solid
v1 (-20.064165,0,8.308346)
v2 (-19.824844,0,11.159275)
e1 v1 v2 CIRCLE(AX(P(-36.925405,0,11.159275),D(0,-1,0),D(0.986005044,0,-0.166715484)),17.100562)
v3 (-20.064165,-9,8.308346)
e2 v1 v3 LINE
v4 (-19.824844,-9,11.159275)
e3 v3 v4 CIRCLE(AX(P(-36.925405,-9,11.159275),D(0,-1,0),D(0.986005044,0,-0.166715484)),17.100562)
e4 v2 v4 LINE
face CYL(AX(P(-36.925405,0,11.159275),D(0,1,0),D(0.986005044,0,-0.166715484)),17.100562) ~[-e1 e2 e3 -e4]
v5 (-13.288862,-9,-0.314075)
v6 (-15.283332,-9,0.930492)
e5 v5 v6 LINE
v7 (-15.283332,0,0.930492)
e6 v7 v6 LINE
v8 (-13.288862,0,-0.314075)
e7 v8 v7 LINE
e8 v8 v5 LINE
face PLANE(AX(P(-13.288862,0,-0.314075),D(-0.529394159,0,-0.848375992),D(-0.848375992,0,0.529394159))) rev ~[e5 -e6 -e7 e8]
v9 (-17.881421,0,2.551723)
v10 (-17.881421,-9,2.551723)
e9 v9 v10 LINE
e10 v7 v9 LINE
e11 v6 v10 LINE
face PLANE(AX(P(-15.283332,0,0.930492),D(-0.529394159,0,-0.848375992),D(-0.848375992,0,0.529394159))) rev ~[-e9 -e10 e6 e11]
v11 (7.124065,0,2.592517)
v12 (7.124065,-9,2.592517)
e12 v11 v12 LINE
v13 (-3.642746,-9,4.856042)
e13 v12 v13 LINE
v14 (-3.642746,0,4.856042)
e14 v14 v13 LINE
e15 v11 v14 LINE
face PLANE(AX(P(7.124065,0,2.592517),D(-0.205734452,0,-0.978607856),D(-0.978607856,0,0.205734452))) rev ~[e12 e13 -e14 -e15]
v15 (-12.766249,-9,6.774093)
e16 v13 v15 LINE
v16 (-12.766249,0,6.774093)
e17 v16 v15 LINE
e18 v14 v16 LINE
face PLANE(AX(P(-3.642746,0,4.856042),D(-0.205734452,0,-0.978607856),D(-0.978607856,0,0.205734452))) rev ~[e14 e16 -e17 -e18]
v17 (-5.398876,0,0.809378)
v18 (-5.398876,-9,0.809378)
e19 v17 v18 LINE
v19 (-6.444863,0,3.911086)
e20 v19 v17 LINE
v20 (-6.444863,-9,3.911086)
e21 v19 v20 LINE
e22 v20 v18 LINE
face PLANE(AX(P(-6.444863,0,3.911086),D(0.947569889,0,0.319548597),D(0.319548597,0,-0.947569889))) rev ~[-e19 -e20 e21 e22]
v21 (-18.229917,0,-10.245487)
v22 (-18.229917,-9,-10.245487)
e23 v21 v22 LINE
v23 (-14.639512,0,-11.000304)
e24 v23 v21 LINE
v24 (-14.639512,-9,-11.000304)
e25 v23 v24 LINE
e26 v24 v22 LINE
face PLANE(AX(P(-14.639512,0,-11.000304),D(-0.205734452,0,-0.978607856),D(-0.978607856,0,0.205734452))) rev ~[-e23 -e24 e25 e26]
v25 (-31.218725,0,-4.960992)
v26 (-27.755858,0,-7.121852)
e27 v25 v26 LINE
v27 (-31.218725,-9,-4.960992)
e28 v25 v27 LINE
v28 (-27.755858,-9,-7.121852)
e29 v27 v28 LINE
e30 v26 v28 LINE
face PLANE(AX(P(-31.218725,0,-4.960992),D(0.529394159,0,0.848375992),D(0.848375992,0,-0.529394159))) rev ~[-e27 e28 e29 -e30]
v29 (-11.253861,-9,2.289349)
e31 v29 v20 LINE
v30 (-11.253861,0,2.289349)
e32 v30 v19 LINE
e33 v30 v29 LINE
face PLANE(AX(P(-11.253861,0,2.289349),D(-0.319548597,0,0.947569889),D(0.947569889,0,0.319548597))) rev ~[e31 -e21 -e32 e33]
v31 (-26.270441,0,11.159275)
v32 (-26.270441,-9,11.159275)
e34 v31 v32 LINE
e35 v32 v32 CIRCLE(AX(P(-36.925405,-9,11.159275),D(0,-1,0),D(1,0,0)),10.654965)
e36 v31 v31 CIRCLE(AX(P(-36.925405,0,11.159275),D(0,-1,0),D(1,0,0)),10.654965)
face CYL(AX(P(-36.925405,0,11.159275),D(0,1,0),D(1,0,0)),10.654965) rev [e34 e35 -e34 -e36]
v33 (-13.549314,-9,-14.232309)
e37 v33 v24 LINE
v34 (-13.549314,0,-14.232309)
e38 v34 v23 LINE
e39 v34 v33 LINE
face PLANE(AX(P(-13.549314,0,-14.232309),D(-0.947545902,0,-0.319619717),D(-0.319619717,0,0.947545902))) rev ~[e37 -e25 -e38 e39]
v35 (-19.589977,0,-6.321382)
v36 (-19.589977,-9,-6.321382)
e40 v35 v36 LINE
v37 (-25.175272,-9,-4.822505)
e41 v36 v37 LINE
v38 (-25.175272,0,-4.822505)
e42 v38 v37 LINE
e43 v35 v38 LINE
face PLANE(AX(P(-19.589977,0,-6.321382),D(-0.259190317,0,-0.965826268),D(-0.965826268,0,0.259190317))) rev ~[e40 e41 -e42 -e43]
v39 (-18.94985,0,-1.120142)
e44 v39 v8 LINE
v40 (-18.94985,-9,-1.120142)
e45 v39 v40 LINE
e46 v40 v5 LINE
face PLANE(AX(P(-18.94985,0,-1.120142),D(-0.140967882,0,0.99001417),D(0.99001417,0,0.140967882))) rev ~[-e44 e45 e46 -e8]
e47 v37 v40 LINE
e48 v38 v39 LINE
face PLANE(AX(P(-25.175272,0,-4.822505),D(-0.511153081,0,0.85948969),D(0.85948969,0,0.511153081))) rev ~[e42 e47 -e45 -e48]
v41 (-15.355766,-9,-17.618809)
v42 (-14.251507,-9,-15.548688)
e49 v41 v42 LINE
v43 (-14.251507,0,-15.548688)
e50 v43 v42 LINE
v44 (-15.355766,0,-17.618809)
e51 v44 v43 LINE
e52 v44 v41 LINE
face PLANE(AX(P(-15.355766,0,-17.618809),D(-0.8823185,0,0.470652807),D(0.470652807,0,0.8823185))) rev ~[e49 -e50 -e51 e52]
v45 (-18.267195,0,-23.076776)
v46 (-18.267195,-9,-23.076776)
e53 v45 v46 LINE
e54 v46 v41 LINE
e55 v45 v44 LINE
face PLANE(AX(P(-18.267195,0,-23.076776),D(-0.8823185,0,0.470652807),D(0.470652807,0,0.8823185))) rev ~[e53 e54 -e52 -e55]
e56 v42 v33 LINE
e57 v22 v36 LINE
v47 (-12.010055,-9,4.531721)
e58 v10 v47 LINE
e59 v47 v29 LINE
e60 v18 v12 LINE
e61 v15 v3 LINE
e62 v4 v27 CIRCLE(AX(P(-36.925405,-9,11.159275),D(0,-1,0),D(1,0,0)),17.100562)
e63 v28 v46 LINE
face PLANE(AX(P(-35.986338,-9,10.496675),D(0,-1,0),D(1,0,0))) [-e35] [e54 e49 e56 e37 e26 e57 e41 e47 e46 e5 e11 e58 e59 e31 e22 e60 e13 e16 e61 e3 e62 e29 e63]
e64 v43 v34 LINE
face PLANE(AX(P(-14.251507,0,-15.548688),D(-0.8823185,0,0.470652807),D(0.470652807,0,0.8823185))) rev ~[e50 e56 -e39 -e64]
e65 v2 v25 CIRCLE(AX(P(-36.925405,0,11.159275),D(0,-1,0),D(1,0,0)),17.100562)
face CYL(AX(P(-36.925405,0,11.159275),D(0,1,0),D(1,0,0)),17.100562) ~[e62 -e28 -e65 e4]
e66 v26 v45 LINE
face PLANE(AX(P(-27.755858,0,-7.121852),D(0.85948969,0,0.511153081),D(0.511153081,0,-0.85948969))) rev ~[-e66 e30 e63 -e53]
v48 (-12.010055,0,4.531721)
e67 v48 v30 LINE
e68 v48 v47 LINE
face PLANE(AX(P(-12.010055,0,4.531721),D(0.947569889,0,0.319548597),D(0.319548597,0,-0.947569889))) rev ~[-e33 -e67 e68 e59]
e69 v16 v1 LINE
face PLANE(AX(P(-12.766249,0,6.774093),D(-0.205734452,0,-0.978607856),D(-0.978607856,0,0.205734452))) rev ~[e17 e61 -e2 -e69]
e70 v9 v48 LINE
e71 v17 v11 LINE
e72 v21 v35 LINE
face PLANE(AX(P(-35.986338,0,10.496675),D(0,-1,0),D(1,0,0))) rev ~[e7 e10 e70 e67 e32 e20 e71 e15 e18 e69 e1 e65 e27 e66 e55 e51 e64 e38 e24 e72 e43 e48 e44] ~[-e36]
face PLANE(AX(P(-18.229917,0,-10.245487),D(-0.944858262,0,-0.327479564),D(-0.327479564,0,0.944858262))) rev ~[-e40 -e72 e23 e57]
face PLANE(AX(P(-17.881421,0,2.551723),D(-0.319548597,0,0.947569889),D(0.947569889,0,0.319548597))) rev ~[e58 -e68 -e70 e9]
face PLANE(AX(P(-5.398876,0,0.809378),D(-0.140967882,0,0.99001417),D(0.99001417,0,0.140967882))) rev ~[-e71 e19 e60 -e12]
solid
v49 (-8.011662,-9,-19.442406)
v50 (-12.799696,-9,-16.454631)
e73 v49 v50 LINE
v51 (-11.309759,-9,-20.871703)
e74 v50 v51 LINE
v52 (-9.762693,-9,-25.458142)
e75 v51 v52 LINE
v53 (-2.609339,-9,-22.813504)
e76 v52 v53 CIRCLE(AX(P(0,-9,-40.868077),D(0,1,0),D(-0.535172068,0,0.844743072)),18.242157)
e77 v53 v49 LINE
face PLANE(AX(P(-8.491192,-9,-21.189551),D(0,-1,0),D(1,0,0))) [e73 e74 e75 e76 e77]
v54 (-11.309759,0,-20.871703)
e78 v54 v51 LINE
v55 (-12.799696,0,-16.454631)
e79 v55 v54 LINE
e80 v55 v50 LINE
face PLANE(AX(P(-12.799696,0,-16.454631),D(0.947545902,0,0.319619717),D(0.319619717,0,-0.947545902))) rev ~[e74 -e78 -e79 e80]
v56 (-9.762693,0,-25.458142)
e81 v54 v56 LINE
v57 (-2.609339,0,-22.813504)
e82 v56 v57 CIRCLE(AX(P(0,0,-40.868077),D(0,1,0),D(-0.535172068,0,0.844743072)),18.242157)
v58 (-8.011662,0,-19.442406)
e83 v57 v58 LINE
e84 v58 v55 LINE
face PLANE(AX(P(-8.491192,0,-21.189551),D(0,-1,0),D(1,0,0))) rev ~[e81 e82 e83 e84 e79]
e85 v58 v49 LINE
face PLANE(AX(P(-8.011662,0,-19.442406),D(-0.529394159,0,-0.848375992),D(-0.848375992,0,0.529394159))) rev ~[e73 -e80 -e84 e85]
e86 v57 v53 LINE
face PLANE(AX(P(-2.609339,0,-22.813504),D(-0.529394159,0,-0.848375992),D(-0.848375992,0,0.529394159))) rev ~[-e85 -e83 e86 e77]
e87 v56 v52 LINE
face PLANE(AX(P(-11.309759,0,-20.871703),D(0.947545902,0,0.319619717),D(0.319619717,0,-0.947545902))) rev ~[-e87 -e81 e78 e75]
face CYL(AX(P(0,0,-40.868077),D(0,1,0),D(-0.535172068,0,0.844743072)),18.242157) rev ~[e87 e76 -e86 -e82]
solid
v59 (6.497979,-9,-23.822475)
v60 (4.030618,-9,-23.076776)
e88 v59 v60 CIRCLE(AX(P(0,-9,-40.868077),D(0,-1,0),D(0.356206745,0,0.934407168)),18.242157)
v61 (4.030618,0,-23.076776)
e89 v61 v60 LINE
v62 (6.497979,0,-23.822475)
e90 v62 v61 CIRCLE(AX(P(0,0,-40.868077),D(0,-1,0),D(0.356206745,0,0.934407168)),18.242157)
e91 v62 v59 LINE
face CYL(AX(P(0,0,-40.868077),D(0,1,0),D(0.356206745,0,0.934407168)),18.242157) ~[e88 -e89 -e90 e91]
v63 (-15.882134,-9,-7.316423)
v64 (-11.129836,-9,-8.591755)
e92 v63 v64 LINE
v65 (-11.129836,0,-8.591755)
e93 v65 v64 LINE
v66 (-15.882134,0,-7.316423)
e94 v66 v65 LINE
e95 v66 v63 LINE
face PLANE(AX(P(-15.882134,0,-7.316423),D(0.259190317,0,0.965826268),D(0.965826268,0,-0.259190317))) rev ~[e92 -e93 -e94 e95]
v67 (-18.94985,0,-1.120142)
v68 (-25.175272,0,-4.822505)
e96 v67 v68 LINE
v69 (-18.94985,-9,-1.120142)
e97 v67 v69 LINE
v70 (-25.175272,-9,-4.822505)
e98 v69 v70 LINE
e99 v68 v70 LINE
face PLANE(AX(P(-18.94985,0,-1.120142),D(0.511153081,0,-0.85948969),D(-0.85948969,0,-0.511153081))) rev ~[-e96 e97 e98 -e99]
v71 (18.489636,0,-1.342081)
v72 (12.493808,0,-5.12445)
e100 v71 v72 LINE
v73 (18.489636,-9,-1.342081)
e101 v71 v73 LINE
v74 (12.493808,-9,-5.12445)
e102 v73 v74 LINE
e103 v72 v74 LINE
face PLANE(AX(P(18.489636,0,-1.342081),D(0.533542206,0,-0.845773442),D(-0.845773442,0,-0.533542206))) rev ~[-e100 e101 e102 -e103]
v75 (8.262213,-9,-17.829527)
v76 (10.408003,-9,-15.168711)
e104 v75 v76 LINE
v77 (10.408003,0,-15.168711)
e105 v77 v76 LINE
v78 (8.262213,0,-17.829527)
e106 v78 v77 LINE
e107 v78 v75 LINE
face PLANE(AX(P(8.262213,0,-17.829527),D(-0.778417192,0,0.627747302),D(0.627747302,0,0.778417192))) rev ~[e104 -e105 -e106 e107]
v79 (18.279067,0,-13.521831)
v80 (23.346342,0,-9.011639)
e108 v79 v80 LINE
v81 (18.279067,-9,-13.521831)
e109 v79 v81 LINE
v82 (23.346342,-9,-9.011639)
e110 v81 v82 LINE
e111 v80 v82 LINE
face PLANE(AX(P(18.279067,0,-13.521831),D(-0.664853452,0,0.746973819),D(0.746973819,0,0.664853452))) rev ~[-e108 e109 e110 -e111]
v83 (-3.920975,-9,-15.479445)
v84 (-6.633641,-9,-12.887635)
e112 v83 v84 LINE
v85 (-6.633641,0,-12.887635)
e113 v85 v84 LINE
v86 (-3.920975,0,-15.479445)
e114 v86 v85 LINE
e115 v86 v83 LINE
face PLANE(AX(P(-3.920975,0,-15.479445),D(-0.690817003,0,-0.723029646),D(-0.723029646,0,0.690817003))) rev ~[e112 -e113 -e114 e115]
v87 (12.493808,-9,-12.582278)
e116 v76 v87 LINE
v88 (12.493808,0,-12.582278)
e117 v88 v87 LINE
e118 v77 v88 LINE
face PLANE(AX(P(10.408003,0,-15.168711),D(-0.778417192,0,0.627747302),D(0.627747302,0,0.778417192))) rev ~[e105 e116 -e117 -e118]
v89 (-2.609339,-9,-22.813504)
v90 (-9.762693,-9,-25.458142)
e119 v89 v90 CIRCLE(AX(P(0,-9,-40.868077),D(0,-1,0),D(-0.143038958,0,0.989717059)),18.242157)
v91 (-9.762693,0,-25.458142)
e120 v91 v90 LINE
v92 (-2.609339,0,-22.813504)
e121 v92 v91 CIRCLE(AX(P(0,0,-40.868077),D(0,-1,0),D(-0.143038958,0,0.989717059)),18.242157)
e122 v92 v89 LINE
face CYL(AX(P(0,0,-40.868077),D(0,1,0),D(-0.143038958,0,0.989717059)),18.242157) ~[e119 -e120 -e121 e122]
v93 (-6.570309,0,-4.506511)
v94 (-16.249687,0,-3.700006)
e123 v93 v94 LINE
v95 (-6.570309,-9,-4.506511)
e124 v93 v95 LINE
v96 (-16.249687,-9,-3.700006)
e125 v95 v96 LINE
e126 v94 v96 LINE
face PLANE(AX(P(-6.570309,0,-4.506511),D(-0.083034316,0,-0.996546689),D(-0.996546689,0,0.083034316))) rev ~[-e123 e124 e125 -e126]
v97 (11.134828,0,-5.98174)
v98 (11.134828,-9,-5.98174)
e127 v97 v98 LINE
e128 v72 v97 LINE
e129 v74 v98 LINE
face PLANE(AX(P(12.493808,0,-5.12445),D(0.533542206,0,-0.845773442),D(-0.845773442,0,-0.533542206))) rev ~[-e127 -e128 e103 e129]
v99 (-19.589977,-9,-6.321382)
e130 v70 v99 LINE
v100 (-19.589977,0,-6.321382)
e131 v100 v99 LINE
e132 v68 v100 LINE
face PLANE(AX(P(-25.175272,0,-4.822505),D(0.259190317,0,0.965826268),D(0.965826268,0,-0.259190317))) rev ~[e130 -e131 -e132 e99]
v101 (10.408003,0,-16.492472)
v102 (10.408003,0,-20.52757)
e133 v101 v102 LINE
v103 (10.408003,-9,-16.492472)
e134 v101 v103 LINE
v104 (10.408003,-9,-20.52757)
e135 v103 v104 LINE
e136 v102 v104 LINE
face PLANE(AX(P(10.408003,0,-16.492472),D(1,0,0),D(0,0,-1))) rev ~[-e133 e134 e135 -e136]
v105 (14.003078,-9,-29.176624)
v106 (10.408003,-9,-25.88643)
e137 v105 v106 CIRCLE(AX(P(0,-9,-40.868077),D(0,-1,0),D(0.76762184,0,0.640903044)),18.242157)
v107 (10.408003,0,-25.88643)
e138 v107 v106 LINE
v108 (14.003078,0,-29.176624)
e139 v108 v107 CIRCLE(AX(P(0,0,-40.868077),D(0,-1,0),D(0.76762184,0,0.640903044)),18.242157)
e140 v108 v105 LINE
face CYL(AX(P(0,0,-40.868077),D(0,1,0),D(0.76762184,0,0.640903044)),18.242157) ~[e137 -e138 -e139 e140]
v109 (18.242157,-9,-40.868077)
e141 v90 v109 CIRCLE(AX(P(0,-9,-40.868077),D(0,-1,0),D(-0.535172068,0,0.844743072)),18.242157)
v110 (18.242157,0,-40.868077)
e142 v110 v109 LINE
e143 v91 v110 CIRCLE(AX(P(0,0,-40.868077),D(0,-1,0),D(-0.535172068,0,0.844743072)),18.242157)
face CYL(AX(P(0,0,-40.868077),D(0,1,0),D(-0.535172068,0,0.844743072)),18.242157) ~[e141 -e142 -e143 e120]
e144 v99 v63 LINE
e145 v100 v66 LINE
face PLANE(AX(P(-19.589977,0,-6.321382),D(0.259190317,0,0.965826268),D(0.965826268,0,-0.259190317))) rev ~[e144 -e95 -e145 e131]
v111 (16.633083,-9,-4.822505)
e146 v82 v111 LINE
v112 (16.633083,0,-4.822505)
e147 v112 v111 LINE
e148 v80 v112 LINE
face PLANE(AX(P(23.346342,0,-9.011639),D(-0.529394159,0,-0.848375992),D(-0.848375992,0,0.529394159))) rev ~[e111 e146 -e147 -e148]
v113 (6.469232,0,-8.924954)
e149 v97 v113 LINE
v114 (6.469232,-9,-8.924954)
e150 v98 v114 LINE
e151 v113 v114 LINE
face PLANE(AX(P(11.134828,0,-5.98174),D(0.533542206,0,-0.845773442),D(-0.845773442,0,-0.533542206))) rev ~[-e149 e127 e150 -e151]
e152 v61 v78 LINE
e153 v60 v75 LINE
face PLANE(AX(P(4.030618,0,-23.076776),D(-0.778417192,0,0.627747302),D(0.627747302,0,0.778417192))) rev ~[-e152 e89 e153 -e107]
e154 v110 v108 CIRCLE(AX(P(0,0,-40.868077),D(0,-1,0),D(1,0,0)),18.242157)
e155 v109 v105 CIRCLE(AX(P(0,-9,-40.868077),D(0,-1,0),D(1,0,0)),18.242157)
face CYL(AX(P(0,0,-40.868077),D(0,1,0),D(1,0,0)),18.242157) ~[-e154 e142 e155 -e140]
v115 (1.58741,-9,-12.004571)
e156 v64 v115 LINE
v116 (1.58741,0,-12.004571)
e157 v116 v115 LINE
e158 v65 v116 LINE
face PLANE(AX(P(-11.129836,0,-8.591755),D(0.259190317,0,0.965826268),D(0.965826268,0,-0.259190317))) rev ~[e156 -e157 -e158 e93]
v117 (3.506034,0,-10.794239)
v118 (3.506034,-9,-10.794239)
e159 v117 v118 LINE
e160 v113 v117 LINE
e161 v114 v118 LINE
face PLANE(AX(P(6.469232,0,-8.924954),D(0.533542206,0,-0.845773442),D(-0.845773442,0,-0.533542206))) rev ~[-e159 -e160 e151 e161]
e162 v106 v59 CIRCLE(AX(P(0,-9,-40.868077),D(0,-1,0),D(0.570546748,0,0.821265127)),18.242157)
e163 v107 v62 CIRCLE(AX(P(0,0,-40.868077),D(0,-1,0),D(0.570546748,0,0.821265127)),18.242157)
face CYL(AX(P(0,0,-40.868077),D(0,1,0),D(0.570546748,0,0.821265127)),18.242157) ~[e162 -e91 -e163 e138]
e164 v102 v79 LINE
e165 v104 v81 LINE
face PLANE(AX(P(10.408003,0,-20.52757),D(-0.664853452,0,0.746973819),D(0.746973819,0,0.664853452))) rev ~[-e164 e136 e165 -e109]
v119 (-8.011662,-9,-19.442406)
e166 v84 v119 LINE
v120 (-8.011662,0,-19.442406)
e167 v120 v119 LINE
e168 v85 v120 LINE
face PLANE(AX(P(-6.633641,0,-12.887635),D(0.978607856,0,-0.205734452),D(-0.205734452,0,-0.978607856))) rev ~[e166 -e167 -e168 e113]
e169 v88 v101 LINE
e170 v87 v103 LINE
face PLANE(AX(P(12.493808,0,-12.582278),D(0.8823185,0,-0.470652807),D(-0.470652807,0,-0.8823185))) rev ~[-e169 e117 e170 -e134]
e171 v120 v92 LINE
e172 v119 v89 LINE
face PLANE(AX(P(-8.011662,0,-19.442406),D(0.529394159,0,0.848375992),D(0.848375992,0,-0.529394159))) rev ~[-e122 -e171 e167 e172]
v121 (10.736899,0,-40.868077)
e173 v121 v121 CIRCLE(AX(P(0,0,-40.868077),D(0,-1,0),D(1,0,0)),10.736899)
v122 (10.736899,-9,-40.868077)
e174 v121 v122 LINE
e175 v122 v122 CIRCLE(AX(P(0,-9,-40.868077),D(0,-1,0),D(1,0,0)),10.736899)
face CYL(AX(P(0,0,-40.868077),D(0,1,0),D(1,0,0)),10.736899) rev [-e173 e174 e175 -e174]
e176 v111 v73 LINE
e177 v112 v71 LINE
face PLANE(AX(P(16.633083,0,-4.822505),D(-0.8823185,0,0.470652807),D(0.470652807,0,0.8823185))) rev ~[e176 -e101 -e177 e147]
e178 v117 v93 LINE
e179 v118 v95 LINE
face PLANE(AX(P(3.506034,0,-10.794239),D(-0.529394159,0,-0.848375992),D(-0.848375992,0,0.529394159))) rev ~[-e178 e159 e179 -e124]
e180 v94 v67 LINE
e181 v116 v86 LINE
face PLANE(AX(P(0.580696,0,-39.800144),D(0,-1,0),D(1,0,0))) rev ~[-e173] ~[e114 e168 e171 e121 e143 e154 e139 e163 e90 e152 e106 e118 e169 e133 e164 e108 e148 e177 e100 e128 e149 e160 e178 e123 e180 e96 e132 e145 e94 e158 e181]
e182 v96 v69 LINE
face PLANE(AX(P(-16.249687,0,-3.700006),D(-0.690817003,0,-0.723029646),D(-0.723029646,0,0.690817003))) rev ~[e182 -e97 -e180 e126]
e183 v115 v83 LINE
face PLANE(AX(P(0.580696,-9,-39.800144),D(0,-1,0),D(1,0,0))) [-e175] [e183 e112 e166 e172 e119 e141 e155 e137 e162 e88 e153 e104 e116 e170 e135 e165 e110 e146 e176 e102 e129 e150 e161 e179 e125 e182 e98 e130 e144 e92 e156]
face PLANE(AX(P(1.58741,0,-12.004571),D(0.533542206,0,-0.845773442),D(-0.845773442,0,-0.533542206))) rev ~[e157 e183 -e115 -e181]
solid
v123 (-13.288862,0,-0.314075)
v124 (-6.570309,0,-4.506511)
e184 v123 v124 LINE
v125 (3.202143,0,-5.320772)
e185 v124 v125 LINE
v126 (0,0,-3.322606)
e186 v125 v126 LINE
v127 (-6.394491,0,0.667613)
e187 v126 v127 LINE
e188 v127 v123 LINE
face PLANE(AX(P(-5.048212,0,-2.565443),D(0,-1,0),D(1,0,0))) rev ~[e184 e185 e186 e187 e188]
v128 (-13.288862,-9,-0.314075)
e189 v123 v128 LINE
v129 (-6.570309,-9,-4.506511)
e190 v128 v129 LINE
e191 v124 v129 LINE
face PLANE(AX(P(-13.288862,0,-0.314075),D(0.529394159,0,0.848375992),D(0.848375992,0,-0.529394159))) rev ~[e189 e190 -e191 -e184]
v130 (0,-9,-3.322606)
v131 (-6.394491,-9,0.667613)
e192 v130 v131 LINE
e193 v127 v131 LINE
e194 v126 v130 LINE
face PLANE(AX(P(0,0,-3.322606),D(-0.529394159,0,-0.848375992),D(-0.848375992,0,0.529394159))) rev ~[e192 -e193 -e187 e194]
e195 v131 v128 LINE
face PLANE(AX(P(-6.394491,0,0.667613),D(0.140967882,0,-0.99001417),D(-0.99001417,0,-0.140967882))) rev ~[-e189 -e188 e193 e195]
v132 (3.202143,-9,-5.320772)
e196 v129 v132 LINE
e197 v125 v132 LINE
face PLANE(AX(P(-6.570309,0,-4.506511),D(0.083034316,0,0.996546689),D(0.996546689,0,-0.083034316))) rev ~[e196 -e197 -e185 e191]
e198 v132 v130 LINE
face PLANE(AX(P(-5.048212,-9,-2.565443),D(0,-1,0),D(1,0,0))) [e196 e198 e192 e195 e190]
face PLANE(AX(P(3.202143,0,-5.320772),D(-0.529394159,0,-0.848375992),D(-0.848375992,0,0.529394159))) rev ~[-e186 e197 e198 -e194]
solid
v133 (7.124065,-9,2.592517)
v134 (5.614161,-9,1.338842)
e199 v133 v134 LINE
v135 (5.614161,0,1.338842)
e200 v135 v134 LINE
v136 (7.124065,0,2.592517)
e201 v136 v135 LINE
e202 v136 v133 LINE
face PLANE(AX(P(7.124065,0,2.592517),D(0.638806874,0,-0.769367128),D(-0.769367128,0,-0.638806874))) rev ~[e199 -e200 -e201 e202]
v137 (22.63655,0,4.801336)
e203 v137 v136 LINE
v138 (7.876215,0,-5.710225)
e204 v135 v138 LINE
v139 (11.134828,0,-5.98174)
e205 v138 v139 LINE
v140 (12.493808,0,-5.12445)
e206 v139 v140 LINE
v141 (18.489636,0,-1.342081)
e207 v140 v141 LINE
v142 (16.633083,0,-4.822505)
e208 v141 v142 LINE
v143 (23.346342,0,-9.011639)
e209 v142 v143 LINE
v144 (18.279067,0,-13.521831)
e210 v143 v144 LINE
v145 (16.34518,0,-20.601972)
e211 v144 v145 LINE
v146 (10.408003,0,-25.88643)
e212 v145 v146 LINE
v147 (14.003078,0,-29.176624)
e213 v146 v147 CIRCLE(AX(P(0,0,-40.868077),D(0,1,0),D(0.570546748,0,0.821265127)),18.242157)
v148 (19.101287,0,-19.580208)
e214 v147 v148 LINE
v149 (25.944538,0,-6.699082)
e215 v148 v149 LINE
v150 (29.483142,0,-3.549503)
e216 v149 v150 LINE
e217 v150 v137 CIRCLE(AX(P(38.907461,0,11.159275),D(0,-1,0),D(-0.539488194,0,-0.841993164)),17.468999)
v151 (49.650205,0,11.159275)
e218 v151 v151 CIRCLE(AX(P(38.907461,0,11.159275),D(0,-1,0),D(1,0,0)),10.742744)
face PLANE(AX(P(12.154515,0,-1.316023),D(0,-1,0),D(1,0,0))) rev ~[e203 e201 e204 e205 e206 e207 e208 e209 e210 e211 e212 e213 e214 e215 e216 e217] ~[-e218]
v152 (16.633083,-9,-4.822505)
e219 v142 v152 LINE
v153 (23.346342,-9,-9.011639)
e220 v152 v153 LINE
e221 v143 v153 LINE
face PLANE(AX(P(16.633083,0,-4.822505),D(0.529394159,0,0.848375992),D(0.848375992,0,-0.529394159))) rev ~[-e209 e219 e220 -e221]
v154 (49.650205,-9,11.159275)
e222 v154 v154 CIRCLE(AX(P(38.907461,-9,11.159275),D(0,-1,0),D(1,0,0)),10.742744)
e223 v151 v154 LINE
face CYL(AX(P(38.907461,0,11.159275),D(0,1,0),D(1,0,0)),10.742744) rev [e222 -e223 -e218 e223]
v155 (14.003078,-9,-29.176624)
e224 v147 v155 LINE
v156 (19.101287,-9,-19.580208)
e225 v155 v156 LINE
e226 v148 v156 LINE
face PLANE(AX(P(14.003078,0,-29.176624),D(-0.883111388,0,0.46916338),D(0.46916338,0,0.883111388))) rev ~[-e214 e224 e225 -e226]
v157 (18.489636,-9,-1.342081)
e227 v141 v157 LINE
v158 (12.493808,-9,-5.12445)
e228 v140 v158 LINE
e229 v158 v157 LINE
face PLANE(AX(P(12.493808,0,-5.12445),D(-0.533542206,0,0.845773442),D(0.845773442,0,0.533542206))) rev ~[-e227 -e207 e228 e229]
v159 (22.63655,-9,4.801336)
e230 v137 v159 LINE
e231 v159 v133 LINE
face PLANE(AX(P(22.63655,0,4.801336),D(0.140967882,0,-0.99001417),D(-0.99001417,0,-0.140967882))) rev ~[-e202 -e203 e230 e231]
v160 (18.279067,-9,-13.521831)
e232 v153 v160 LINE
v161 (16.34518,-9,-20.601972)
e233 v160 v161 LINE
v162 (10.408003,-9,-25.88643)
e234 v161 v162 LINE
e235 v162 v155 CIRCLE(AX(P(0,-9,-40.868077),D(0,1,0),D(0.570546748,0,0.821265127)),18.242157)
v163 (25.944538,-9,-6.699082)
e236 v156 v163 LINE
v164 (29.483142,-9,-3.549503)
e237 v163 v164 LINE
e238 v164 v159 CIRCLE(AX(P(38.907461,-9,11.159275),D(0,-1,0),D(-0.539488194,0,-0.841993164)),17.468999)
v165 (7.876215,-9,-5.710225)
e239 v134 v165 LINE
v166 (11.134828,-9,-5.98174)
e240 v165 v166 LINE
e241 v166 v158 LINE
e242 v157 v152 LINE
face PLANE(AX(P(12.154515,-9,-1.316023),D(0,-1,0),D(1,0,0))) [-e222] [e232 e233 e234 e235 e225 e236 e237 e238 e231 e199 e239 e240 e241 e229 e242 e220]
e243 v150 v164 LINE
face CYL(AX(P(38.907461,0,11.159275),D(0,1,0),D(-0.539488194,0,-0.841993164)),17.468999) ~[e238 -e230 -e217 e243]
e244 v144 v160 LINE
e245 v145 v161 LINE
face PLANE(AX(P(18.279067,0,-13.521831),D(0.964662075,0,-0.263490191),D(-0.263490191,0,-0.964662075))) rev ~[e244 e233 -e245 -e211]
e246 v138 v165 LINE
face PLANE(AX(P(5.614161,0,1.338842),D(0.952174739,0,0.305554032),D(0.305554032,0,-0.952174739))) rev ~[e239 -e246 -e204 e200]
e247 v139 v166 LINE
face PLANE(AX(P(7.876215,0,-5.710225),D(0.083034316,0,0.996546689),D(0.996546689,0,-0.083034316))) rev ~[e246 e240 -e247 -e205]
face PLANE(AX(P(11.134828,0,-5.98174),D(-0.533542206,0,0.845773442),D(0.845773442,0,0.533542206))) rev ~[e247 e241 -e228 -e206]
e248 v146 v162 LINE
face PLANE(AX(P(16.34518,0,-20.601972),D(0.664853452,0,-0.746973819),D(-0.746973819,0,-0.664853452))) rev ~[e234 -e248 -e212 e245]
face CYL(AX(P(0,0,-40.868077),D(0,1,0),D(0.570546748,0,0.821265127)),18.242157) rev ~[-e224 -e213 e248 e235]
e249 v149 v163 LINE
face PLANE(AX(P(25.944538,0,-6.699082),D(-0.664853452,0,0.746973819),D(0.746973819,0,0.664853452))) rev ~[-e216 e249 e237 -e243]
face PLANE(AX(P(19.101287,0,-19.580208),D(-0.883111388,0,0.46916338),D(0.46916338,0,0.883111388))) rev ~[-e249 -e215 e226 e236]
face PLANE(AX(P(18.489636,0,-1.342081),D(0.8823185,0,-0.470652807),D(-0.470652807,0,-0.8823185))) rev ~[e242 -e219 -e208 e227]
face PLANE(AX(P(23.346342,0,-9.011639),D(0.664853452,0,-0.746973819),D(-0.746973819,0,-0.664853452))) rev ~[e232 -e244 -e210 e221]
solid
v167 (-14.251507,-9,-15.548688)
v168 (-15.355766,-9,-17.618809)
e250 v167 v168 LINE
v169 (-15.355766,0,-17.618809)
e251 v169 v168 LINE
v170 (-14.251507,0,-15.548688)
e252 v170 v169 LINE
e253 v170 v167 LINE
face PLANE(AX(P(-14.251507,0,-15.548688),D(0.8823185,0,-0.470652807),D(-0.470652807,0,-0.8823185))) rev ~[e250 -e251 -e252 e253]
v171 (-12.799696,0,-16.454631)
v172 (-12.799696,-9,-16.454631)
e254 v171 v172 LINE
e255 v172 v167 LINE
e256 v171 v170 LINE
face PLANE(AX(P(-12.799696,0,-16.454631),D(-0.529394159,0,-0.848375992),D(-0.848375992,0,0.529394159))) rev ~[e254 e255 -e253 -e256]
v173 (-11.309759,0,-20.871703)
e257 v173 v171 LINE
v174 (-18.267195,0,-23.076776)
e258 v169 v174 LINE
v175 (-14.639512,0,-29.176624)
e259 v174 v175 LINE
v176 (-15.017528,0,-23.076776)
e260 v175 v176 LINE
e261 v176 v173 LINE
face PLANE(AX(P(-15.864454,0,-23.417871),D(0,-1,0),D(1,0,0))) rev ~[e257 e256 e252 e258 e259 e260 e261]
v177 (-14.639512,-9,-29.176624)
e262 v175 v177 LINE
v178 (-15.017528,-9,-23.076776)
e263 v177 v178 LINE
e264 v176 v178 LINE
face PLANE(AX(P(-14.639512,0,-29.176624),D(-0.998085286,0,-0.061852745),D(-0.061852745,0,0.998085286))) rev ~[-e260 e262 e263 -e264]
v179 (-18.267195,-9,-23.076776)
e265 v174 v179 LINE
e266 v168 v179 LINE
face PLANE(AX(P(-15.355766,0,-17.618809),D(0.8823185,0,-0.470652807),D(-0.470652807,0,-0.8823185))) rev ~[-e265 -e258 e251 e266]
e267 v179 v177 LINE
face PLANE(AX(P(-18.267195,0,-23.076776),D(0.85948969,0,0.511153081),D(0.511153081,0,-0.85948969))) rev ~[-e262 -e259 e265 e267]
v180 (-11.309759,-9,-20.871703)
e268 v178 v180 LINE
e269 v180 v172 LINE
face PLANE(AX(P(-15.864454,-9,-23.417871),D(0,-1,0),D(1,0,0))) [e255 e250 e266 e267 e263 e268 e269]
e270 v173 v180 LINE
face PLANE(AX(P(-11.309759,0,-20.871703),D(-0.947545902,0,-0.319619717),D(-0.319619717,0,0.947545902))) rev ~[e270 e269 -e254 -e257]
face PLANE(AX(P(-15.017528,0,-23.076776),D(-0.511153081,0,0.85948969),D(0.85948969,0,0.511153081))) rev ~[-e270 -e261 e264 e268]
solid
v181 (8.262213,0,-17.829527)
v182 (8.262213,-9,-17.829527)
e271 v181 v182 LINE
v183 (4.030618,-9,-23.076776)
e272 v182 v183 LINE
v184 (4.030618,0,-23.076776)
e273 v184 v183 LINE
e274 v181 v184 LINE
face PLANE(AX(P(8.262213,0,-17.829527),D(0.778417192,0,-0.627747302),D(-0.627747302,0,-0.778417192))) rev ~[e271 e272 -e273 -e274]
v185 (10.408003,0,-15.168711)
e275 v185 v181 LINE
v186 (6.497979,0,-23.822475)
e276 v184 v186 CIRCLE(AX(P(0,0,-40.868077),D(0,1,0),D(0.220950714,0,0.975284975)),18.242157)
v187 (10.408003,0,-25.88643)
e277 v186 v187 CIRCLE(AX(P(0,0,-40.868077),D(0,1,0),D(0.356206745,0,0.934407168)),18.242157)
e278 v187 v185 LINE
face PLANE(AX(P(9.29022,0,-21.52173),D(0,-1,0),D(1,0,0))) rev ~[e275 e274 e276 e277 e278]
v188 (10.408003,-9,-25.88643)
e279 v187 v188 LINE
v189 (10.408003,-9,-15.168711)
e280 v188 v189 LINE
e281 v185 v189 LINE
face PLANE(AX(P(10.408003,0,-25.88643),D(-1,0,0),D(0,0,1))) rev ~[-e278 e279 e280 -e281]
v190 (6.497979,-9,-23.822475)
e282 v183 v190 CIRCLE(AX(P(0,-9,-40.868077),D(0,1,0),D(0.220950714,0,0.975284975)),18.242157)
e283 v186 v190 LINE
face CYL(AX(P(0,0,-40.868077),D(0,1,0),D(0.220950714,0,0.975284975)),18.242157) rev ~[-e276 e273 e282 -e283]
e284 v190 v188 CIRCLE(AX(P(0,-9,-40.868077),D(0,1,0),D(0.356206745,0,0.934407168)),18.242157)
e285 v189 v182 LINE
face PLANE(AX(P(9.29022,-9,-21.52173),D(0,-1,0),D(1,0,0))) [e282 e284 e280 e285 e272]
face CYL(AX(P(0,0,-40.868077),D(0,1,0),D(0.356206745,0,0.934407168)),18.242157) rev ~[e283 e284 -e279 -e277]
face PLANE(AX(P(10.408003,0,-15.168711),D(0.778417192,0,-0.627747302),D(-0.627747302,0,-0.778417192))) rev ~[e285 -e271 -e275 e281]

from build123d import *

# Parameters (mm, degrees)
F0_R     = 10.6549645795
F1_DEPTH = 9
F0_R_2   = 10.7427439212
F0_R_3   = 10.7368986297
F2_DEPTH = 9


with BuildPart() as f1:
    # F0 (on Front) → F1 (new body)
    with BuildSketch(Plane.XZ):
        with BuildLine():
            ThreePointArc((-20.0641651181, 8.3083463069), (-19.8847789494, 9.7287968623), (-19.8248435155, 11.1592747271))
            ThreePointArc((-19.8248435155, 11.1592747271), (-50.8899433357, 21.0294767793), (-31.2187251884, -4.9609924738))
            ThreePointArc((-31.2187251884, -4.9609924738), (-29.9643391784, -4.4603530234), (-28.7533751249, -3.8622809686))
            ThreePointArc((-28.7533751249, -3.8622809686), (-25.1760860399, -1.2658091713), (-22.3838279271, 2.160844827))
            ThreePointArc((-22.3838279271, 2.160844827), (-21.7131808774, 3.3479085645), (-21.1392335311, 4.5846268937))
            ThreePointArc((-21.1392335311, 4.5846268937), (-20.4958618387, 6.4159304479), (-20.0641651181, 8.3083463069))
        make_face()
        with Locations((-36.9254052639, 11.1592747271)):
            Circle(F0_R, mode=Mode.SUBTRACT)
        Polygon((-25.0467206421, -8.8123781663), (-27.7558582251, -7.1218522362), (-18.2671947269, -23.0767760102), (-15.3557659771, -17.6188090984), (-14.2515066154, -15.5486876646), align=None)
        Polygon((-18.2299170021, -10.2454867911), (-25.0467206421, -8.8123781663), (-14.2515066154, -15.5486876646), (-13.549314167, -14.2323088422), (-14.6395119997, -11.0003039528), align=None)
        with BuildLine():
            ThreePointArc((-28.7533751249, -3.8622809686), (-29.9643391784, -4.4603530234), (-31.2187251884, -4.9609924738))
            Line((-31.2187251884, -4.9609924738), (-27.7558582251, -7.1218522362))
            Line((-27.7558582251, -7.1218522362), (-25.0467206421, -8.8123781663))
            Line((-25.0467206421, -8.8123781663), (-18.2299170021, -10.2454867911))
            Line((-18.2299170021, -10.2454867911), (-19.5899773533, -6.3213815905))
            Line((-19.5899773533, -6.3213815905), (-25.1752715024, -4.8225052285))
            Line((-25.1752715024, -4.8225052285), (-28.7533751249, -3.8622809686))
        make_face()
        with BuildLine():
            ThreePointArc((-22.3838279271, 2.160844827), (-25.1760860399, -1.2658091713), (-28.7533751249, -3.8622809686))
            Line((-28.7533751249, -3.8622809686), (-25.1752715024, -4.8225052285))
            Line((-25.1752715024, -4.8225052285), (-18.9498499083, -1.120141527))
            Line((-18.9498499083, -1.120141527), (-22.3838279271, 2.160844827))
        make_face()
        with BuildLine():
            Line((-17.8814207304, 2.5517227513), (-21.1392335311, 4.5846268937))
            ThreePointArc((-21.1392335311, 4.5846268937), (-21.7131808774, 3.3479085645), (-22.3838279271, 2.160844827))
            Line((-22.3838279271, 2.160844827), (-18.9498499083, -1.120141527))
            Line((-18.9498499083, -1.120141527), (-13.2888618781, -0.3140747904))
            Line((-13.2888618781, -0.3140747904), (-15.2833322411, 0.9304924426))
            Line((-15.2833322411, 0.9304924426), (-17.8814207304, 2.5517227513))
        make_face()
        with BuildLine():
            Line((-12.7662490274, 6.7740925649), (-20.0641651181, 8.3083463069))
            ThreePointArc((-20.0641651181, 8.3083463069), (-20.4958618387, 6.4159304479), (-21.1392335311, 4.5846268937))
            Line((-21.1392335311, 4.5846268937), (-17.8814207304, 2.5517227513))
            Line((-17.8814207304, 2.5517227513), (-12.0100549904, 4.5317209614))
            Line((-12.0100549904, 4.5317209614), (-12.7662490274, 6.7740925649))
        make_face()
        Polygon((-3.6427459963, 4.856042468), (-12.7662490274, 6.7740925649), (-12.0100549904, 4.5317209614), (-11.2538609534, 2.2893493578), (-6.4448630441, 3.9110857092), align=None)
        Polygon((7.1240645524, 2.5925169398), (-3.6427459963, 4.856042468), (-6.4448630441, 3.9110857092), (-5.3988756119, 0.809378474), align=None)
    extrude(amount=F1_DEPTH)


with BuildPart() as f1b:
    # F0 (on Front) → F1, piece 2 (new body)
    with BuildSketch(Plane.XZ):
        Polygon((20.3268225381, -0.1831221045), (7.1240645524, 2.5925169398), (5.614161229, 1.3388415648), (7.8762154199, -5.7102254828), (11.1348283668, -5.9817398032), (12.4938078114, -5.1244500669), (18.489636341, -1.3420806721), align=None)
        with BuildLine():
            Line((22.6365502477, 4.8013360815), (7.1240645524, 2.5925169398))
            Line((7.1240645524, 2.5925169398), (20.3268225381, -0.1831221045))
            Line((20.3268225381, -0.1831221045), (23.9641546685, 2.1114287921))
            ThreePointArc((23.9641546685, 2.1114287921), (23.242508483, 3.4278335283), (22.6365502477, 4.8013360815))
        make_face()
        with BuildLine():
            Line((23.9641546685, 2.1114287921), (20.3268225381, -0.1831221045))
            Line((20.3268225381, -0.1831221045), (18.489636341, -1.3420806721))
            Line((18.489636341, -1.3420806721), (16.6330827417, -4.8225052285))
            Line((16.6330827417, -4.8225052285), (23.3463423185, -9.0116388705))
            Line((23.3463423185, -9.0116388705), (25.9445380029, -6.6990820895))
            Line((25.9445380029, -6.6990820895), (29.4831423015, -3.5495027815))
            ThreePointArc((29.4831423015, -3.5495027815), (26.3991907736, -1.0353591536), (23.9641546685, 2.1114287921))
        make_face()
        Polygon((19.1012873615, -19.5802079989), (25.9445380029, -6.6990820895), (23.3463423185, -9.0116388705), (18.2790667344, -13.5218313026), align=None)
        Polygon((16.345179662, -20.6019715923), (14.0030779473, -29.1766236231), (19.1012873615, -19.5802079989), (18.2790667344, -13.5218313026), align=None)
        with BuildLine():
            ThreePointArc((10.4080032293, -25.886430227), (12.315906958, -27.410933605), (14.0030779473, -29.1766236231))
            Line((14.0030779473, -29.1766236231), (16.345179662, -20.6019715923))
            Line((16.345179662, -20.6019715923), (10.4080032293, -25.886430227))
        make_face()
        with BuildLine():
            ThreePointArc((56.3764595874, 11.1592747271), (35.6725420551, 28.3261386375), (22.6365502477, 4.8013360815))
            ThreePointArc((22.6365502477, 4.8013360815), (23.242508483, 3.4278335283), (23.9641546685, 2.1114287921))
            ThreePointArc((23.9641546685, 2.1114287921), (26.3991907736, -1.0353591536), (29.4831423015, -3.5495027815))
            ThreePointArc((29.4831423015, -3.5495027815), (47.2899577301, -4.1671619954), (56.3764595874, 11.1592747271))
        make_face()
        with Locations((38.9074608684, 11.1592747271)):
            Circle(F0_R_2, mode=Mode.SUBTRACT)
    extrude(amount=F1_DEPTH)


with BuildPart() as f1c:
    # F0 (on Front) → F1, piece 3 (new body)
    with BuildSketch(Plane.XZ):
        with BuildLine():
            Line((10.4080032293, -16.4924724238), (6.4979792818, -23.8224753755))
            ThreePointArc((6.4979792818, -23.8224753755), (8.5157523786, -24.7355560658), (10.4080032293, -25.886430227))
            Line((10.4080032293, -25.886430227), (10.4080032293, -20.5275704744))
            Line((10.4080032293, -20.5275704744), (10.4080032293, -16.4924724238))
        make_face()
        with BuildLine():
            Line((8.2622126873, -17.829527017), (4.0306175632, -23.0767760102))
            ThreePointArc((4.0306175632, -23.0767760102), (5.2774856482, -23.405991948), (6.4979792818, -23.8224753755))
            Line((6.4979792818, -23.8224753755), (10.4080032293, -16.4924724238))
            Line((10.4080032293, -16.4924724238), (10.4080032293, -15.1687107218))
            Line((10.4080032293, -15.1687107218), (8.2622126873, -17.829527017))
        make_face()
    extrude(amount=F1_DEPTH)


with BuildPart() as f1d:
    # F0 (on Front) → F1, piece 4 (new body)
    with BuildSketch(Plane.XZ):
        with BuildLine():
            Line((-8.0116618445, -19.4424062602), (-12.799695782, -16.4546305281))
            Line((-12.799695782, -16.4546305281), (-11.309759062, -20.8717029341))
            Line((-11.309759062, -20.8717029341), (-9.7626927787, -25.4581418738))
            ThreePointArc((-9.7626927787, -25.4581418738), (-6.3257664341, -23.7578184265), (-2.6093390953, -22.8135036705))
            Line((-2.6093390953, -22.8135036705), (-8.0116618445, -19.4424062602))
        make_face()
    extrude(amount=F1_DEPTH)


with BuildPart() as f2:
    # F0 (on Front) → F2 (new body)
    with BuildSketch(Plane.XZ):
        with BuildLine():
            ThreePointArc((-2.6093390953, -22.8135036705), (-6.3257664341, -23.7578184265), (-9.7626927787, -25.4581418738))
            ThreePointArc((-9.7626927787, -25.4581418738), (-8.7944218619, -56.8503935348), (18.2421567817, -40.8680774271))
            ThreePointArc((18.2421567817, -40.8680774271), (17.1496738656, -34.6499611244), (14.0030779473, -29.1766236231))
            ThreePointArc((14.0030779473, -29.1766236231), (12.315906958, -27.410933605), (10.4080032293, -25.886430227))
            ThreePointArc((10.4080032293, -25.886430227), (8.5157523786, -24.7355560658), (6.4979792818, -23.8224753755))
            ThreePointArc((6.4979792818, -23.8224753755), (5.2774856482, -23.405991948), (4.0306175632, -23.0767760102))
            ThreePointArc((4.0306175632, -23.0767760102), (0.7227283045, -22.6402430016), (-2.6093390953, -22.8135036705))
        make_face()
        with Locations((0, -40.8680774271)):
            Circle(F0_R_3, mode=Mode.SUBTRACT)
        with BuildLine():
            Line((-6.6336407615, -12.8876350643), (-8.0116618445, -19.4424062602))
            Line((-8.0116618445, -19.4424062602), (-2.6093390953, -22.8135036705))
            ThreePointArc((-2.6093390953, -22.8135036705), (0.7227283045, -22.6402430016), (4.0306175632, -23.0767760102))
            Line((4.0306175632, -23.0767760102), (-1.6044713798, -17.6927433157))
            Line((-1.6044713798, -17.6927433157), (-3.9209753848, -15.479444923))
            Line((-3.9209753848, -15.479444923), (-6.6336407615, -12.8876350643))
        make_face()
        Polygon((-1.6044713798, -17.6927433157), (4.0306175632, -23.0767760102), (8.2622126873, -17.829527017), align=None)
        Polygon((23.3463423185, -9.0116388705), (16.6330827417, -4.8225052285), (12.4938078114, -12.5822780238), (10.4080032293, -16.4924724238), (10.4080032293, -20.5275704744), (18.2790667344, -13.5218313026), align=None)
        Polygon((-6.5703091643, -4.506511397), (-16.2496871909, -3.7000057488), (-11.1298363847, -8.5917553575), (1.5874098329, -12.0045710905), (3.5060337104, -10.7942389073), align=None)
        Polygon((16.6330827417, -4.8225052285), (18.489636341, -1.3420806721), (12.4938078114, -5.1244500669), (11.1348283668, -5.9817398032), (6.4692324018, -8.924953956), (10.4080032293, -15.1687107218), (12.4938078114, -12.5822780238), align=None)
        Polygon((6.4692324018, -8.924953956), (3.5060337104, -10.7942389073), (4.0306175632, -11.1215838939), (8.2622126873, -17.829527017), (10.4080032293, -15.1687107218), align=None)
        Polygon((3.5060337104, -10.7942389073), (1.5874098329, -12.0045710905), (-3.9209753848, -15.479444923), (-1.6044713798, -17.6927433157), (8.2622126873, -17.829527017), (4.0306175632, -11.1215838939), align=None)
        Polygon((-18.9498499083, -1.120141527), (-25.1752715024, -4.8225052285), (-19.5899773533, -6.3213815905), (-15.8821335544, -7.3164230827), (-11.1298363847, -8.5917553575), (-16.2496871909, -3.7000057488), align=None)
    extrude(amount=F2_DEPTH)


with BuildPart() as f2b:
    # F0 (on Front) → F2, piece 2 (new body)
    with BuildSketch(Plane.XZ):
        Polygon((-15.3557659771, -17.6188090984), (-18.2671947269, -23.0767760102), (-14.6395119997, -29.1766236231), (-15.017528112, -23.0767760102), align=None)
        Polygon((-12.799695782, -16.4546305281), (-14.2515066154, -15.5486876646), (-15.3557659771, -17.6188090984), (-15.017528112, -23.0767760102), (-11.309759062, -20.8717029341), align=None)
    extrude(amount=F2_DEPTH)


with BuildPart() as f2c:
    # F0 (on Front) → F2, piece 3 (new body)
    with BuildSketch(Plane.XZ):
        Polygon((-6.3944912084, 0.6676130064), (-13.2888618781, -0.3140747904), (-6.5703091643, -4.506511397), (3.2021432602, -5.320772195), (0, -3.3226063406), align=None)
    extrude(amount=F2_DEPTH)


solid = Compound([f1.part, f1b.part, f1c.part, f1d.part, f2.part, f2b.part, f2c.part])
